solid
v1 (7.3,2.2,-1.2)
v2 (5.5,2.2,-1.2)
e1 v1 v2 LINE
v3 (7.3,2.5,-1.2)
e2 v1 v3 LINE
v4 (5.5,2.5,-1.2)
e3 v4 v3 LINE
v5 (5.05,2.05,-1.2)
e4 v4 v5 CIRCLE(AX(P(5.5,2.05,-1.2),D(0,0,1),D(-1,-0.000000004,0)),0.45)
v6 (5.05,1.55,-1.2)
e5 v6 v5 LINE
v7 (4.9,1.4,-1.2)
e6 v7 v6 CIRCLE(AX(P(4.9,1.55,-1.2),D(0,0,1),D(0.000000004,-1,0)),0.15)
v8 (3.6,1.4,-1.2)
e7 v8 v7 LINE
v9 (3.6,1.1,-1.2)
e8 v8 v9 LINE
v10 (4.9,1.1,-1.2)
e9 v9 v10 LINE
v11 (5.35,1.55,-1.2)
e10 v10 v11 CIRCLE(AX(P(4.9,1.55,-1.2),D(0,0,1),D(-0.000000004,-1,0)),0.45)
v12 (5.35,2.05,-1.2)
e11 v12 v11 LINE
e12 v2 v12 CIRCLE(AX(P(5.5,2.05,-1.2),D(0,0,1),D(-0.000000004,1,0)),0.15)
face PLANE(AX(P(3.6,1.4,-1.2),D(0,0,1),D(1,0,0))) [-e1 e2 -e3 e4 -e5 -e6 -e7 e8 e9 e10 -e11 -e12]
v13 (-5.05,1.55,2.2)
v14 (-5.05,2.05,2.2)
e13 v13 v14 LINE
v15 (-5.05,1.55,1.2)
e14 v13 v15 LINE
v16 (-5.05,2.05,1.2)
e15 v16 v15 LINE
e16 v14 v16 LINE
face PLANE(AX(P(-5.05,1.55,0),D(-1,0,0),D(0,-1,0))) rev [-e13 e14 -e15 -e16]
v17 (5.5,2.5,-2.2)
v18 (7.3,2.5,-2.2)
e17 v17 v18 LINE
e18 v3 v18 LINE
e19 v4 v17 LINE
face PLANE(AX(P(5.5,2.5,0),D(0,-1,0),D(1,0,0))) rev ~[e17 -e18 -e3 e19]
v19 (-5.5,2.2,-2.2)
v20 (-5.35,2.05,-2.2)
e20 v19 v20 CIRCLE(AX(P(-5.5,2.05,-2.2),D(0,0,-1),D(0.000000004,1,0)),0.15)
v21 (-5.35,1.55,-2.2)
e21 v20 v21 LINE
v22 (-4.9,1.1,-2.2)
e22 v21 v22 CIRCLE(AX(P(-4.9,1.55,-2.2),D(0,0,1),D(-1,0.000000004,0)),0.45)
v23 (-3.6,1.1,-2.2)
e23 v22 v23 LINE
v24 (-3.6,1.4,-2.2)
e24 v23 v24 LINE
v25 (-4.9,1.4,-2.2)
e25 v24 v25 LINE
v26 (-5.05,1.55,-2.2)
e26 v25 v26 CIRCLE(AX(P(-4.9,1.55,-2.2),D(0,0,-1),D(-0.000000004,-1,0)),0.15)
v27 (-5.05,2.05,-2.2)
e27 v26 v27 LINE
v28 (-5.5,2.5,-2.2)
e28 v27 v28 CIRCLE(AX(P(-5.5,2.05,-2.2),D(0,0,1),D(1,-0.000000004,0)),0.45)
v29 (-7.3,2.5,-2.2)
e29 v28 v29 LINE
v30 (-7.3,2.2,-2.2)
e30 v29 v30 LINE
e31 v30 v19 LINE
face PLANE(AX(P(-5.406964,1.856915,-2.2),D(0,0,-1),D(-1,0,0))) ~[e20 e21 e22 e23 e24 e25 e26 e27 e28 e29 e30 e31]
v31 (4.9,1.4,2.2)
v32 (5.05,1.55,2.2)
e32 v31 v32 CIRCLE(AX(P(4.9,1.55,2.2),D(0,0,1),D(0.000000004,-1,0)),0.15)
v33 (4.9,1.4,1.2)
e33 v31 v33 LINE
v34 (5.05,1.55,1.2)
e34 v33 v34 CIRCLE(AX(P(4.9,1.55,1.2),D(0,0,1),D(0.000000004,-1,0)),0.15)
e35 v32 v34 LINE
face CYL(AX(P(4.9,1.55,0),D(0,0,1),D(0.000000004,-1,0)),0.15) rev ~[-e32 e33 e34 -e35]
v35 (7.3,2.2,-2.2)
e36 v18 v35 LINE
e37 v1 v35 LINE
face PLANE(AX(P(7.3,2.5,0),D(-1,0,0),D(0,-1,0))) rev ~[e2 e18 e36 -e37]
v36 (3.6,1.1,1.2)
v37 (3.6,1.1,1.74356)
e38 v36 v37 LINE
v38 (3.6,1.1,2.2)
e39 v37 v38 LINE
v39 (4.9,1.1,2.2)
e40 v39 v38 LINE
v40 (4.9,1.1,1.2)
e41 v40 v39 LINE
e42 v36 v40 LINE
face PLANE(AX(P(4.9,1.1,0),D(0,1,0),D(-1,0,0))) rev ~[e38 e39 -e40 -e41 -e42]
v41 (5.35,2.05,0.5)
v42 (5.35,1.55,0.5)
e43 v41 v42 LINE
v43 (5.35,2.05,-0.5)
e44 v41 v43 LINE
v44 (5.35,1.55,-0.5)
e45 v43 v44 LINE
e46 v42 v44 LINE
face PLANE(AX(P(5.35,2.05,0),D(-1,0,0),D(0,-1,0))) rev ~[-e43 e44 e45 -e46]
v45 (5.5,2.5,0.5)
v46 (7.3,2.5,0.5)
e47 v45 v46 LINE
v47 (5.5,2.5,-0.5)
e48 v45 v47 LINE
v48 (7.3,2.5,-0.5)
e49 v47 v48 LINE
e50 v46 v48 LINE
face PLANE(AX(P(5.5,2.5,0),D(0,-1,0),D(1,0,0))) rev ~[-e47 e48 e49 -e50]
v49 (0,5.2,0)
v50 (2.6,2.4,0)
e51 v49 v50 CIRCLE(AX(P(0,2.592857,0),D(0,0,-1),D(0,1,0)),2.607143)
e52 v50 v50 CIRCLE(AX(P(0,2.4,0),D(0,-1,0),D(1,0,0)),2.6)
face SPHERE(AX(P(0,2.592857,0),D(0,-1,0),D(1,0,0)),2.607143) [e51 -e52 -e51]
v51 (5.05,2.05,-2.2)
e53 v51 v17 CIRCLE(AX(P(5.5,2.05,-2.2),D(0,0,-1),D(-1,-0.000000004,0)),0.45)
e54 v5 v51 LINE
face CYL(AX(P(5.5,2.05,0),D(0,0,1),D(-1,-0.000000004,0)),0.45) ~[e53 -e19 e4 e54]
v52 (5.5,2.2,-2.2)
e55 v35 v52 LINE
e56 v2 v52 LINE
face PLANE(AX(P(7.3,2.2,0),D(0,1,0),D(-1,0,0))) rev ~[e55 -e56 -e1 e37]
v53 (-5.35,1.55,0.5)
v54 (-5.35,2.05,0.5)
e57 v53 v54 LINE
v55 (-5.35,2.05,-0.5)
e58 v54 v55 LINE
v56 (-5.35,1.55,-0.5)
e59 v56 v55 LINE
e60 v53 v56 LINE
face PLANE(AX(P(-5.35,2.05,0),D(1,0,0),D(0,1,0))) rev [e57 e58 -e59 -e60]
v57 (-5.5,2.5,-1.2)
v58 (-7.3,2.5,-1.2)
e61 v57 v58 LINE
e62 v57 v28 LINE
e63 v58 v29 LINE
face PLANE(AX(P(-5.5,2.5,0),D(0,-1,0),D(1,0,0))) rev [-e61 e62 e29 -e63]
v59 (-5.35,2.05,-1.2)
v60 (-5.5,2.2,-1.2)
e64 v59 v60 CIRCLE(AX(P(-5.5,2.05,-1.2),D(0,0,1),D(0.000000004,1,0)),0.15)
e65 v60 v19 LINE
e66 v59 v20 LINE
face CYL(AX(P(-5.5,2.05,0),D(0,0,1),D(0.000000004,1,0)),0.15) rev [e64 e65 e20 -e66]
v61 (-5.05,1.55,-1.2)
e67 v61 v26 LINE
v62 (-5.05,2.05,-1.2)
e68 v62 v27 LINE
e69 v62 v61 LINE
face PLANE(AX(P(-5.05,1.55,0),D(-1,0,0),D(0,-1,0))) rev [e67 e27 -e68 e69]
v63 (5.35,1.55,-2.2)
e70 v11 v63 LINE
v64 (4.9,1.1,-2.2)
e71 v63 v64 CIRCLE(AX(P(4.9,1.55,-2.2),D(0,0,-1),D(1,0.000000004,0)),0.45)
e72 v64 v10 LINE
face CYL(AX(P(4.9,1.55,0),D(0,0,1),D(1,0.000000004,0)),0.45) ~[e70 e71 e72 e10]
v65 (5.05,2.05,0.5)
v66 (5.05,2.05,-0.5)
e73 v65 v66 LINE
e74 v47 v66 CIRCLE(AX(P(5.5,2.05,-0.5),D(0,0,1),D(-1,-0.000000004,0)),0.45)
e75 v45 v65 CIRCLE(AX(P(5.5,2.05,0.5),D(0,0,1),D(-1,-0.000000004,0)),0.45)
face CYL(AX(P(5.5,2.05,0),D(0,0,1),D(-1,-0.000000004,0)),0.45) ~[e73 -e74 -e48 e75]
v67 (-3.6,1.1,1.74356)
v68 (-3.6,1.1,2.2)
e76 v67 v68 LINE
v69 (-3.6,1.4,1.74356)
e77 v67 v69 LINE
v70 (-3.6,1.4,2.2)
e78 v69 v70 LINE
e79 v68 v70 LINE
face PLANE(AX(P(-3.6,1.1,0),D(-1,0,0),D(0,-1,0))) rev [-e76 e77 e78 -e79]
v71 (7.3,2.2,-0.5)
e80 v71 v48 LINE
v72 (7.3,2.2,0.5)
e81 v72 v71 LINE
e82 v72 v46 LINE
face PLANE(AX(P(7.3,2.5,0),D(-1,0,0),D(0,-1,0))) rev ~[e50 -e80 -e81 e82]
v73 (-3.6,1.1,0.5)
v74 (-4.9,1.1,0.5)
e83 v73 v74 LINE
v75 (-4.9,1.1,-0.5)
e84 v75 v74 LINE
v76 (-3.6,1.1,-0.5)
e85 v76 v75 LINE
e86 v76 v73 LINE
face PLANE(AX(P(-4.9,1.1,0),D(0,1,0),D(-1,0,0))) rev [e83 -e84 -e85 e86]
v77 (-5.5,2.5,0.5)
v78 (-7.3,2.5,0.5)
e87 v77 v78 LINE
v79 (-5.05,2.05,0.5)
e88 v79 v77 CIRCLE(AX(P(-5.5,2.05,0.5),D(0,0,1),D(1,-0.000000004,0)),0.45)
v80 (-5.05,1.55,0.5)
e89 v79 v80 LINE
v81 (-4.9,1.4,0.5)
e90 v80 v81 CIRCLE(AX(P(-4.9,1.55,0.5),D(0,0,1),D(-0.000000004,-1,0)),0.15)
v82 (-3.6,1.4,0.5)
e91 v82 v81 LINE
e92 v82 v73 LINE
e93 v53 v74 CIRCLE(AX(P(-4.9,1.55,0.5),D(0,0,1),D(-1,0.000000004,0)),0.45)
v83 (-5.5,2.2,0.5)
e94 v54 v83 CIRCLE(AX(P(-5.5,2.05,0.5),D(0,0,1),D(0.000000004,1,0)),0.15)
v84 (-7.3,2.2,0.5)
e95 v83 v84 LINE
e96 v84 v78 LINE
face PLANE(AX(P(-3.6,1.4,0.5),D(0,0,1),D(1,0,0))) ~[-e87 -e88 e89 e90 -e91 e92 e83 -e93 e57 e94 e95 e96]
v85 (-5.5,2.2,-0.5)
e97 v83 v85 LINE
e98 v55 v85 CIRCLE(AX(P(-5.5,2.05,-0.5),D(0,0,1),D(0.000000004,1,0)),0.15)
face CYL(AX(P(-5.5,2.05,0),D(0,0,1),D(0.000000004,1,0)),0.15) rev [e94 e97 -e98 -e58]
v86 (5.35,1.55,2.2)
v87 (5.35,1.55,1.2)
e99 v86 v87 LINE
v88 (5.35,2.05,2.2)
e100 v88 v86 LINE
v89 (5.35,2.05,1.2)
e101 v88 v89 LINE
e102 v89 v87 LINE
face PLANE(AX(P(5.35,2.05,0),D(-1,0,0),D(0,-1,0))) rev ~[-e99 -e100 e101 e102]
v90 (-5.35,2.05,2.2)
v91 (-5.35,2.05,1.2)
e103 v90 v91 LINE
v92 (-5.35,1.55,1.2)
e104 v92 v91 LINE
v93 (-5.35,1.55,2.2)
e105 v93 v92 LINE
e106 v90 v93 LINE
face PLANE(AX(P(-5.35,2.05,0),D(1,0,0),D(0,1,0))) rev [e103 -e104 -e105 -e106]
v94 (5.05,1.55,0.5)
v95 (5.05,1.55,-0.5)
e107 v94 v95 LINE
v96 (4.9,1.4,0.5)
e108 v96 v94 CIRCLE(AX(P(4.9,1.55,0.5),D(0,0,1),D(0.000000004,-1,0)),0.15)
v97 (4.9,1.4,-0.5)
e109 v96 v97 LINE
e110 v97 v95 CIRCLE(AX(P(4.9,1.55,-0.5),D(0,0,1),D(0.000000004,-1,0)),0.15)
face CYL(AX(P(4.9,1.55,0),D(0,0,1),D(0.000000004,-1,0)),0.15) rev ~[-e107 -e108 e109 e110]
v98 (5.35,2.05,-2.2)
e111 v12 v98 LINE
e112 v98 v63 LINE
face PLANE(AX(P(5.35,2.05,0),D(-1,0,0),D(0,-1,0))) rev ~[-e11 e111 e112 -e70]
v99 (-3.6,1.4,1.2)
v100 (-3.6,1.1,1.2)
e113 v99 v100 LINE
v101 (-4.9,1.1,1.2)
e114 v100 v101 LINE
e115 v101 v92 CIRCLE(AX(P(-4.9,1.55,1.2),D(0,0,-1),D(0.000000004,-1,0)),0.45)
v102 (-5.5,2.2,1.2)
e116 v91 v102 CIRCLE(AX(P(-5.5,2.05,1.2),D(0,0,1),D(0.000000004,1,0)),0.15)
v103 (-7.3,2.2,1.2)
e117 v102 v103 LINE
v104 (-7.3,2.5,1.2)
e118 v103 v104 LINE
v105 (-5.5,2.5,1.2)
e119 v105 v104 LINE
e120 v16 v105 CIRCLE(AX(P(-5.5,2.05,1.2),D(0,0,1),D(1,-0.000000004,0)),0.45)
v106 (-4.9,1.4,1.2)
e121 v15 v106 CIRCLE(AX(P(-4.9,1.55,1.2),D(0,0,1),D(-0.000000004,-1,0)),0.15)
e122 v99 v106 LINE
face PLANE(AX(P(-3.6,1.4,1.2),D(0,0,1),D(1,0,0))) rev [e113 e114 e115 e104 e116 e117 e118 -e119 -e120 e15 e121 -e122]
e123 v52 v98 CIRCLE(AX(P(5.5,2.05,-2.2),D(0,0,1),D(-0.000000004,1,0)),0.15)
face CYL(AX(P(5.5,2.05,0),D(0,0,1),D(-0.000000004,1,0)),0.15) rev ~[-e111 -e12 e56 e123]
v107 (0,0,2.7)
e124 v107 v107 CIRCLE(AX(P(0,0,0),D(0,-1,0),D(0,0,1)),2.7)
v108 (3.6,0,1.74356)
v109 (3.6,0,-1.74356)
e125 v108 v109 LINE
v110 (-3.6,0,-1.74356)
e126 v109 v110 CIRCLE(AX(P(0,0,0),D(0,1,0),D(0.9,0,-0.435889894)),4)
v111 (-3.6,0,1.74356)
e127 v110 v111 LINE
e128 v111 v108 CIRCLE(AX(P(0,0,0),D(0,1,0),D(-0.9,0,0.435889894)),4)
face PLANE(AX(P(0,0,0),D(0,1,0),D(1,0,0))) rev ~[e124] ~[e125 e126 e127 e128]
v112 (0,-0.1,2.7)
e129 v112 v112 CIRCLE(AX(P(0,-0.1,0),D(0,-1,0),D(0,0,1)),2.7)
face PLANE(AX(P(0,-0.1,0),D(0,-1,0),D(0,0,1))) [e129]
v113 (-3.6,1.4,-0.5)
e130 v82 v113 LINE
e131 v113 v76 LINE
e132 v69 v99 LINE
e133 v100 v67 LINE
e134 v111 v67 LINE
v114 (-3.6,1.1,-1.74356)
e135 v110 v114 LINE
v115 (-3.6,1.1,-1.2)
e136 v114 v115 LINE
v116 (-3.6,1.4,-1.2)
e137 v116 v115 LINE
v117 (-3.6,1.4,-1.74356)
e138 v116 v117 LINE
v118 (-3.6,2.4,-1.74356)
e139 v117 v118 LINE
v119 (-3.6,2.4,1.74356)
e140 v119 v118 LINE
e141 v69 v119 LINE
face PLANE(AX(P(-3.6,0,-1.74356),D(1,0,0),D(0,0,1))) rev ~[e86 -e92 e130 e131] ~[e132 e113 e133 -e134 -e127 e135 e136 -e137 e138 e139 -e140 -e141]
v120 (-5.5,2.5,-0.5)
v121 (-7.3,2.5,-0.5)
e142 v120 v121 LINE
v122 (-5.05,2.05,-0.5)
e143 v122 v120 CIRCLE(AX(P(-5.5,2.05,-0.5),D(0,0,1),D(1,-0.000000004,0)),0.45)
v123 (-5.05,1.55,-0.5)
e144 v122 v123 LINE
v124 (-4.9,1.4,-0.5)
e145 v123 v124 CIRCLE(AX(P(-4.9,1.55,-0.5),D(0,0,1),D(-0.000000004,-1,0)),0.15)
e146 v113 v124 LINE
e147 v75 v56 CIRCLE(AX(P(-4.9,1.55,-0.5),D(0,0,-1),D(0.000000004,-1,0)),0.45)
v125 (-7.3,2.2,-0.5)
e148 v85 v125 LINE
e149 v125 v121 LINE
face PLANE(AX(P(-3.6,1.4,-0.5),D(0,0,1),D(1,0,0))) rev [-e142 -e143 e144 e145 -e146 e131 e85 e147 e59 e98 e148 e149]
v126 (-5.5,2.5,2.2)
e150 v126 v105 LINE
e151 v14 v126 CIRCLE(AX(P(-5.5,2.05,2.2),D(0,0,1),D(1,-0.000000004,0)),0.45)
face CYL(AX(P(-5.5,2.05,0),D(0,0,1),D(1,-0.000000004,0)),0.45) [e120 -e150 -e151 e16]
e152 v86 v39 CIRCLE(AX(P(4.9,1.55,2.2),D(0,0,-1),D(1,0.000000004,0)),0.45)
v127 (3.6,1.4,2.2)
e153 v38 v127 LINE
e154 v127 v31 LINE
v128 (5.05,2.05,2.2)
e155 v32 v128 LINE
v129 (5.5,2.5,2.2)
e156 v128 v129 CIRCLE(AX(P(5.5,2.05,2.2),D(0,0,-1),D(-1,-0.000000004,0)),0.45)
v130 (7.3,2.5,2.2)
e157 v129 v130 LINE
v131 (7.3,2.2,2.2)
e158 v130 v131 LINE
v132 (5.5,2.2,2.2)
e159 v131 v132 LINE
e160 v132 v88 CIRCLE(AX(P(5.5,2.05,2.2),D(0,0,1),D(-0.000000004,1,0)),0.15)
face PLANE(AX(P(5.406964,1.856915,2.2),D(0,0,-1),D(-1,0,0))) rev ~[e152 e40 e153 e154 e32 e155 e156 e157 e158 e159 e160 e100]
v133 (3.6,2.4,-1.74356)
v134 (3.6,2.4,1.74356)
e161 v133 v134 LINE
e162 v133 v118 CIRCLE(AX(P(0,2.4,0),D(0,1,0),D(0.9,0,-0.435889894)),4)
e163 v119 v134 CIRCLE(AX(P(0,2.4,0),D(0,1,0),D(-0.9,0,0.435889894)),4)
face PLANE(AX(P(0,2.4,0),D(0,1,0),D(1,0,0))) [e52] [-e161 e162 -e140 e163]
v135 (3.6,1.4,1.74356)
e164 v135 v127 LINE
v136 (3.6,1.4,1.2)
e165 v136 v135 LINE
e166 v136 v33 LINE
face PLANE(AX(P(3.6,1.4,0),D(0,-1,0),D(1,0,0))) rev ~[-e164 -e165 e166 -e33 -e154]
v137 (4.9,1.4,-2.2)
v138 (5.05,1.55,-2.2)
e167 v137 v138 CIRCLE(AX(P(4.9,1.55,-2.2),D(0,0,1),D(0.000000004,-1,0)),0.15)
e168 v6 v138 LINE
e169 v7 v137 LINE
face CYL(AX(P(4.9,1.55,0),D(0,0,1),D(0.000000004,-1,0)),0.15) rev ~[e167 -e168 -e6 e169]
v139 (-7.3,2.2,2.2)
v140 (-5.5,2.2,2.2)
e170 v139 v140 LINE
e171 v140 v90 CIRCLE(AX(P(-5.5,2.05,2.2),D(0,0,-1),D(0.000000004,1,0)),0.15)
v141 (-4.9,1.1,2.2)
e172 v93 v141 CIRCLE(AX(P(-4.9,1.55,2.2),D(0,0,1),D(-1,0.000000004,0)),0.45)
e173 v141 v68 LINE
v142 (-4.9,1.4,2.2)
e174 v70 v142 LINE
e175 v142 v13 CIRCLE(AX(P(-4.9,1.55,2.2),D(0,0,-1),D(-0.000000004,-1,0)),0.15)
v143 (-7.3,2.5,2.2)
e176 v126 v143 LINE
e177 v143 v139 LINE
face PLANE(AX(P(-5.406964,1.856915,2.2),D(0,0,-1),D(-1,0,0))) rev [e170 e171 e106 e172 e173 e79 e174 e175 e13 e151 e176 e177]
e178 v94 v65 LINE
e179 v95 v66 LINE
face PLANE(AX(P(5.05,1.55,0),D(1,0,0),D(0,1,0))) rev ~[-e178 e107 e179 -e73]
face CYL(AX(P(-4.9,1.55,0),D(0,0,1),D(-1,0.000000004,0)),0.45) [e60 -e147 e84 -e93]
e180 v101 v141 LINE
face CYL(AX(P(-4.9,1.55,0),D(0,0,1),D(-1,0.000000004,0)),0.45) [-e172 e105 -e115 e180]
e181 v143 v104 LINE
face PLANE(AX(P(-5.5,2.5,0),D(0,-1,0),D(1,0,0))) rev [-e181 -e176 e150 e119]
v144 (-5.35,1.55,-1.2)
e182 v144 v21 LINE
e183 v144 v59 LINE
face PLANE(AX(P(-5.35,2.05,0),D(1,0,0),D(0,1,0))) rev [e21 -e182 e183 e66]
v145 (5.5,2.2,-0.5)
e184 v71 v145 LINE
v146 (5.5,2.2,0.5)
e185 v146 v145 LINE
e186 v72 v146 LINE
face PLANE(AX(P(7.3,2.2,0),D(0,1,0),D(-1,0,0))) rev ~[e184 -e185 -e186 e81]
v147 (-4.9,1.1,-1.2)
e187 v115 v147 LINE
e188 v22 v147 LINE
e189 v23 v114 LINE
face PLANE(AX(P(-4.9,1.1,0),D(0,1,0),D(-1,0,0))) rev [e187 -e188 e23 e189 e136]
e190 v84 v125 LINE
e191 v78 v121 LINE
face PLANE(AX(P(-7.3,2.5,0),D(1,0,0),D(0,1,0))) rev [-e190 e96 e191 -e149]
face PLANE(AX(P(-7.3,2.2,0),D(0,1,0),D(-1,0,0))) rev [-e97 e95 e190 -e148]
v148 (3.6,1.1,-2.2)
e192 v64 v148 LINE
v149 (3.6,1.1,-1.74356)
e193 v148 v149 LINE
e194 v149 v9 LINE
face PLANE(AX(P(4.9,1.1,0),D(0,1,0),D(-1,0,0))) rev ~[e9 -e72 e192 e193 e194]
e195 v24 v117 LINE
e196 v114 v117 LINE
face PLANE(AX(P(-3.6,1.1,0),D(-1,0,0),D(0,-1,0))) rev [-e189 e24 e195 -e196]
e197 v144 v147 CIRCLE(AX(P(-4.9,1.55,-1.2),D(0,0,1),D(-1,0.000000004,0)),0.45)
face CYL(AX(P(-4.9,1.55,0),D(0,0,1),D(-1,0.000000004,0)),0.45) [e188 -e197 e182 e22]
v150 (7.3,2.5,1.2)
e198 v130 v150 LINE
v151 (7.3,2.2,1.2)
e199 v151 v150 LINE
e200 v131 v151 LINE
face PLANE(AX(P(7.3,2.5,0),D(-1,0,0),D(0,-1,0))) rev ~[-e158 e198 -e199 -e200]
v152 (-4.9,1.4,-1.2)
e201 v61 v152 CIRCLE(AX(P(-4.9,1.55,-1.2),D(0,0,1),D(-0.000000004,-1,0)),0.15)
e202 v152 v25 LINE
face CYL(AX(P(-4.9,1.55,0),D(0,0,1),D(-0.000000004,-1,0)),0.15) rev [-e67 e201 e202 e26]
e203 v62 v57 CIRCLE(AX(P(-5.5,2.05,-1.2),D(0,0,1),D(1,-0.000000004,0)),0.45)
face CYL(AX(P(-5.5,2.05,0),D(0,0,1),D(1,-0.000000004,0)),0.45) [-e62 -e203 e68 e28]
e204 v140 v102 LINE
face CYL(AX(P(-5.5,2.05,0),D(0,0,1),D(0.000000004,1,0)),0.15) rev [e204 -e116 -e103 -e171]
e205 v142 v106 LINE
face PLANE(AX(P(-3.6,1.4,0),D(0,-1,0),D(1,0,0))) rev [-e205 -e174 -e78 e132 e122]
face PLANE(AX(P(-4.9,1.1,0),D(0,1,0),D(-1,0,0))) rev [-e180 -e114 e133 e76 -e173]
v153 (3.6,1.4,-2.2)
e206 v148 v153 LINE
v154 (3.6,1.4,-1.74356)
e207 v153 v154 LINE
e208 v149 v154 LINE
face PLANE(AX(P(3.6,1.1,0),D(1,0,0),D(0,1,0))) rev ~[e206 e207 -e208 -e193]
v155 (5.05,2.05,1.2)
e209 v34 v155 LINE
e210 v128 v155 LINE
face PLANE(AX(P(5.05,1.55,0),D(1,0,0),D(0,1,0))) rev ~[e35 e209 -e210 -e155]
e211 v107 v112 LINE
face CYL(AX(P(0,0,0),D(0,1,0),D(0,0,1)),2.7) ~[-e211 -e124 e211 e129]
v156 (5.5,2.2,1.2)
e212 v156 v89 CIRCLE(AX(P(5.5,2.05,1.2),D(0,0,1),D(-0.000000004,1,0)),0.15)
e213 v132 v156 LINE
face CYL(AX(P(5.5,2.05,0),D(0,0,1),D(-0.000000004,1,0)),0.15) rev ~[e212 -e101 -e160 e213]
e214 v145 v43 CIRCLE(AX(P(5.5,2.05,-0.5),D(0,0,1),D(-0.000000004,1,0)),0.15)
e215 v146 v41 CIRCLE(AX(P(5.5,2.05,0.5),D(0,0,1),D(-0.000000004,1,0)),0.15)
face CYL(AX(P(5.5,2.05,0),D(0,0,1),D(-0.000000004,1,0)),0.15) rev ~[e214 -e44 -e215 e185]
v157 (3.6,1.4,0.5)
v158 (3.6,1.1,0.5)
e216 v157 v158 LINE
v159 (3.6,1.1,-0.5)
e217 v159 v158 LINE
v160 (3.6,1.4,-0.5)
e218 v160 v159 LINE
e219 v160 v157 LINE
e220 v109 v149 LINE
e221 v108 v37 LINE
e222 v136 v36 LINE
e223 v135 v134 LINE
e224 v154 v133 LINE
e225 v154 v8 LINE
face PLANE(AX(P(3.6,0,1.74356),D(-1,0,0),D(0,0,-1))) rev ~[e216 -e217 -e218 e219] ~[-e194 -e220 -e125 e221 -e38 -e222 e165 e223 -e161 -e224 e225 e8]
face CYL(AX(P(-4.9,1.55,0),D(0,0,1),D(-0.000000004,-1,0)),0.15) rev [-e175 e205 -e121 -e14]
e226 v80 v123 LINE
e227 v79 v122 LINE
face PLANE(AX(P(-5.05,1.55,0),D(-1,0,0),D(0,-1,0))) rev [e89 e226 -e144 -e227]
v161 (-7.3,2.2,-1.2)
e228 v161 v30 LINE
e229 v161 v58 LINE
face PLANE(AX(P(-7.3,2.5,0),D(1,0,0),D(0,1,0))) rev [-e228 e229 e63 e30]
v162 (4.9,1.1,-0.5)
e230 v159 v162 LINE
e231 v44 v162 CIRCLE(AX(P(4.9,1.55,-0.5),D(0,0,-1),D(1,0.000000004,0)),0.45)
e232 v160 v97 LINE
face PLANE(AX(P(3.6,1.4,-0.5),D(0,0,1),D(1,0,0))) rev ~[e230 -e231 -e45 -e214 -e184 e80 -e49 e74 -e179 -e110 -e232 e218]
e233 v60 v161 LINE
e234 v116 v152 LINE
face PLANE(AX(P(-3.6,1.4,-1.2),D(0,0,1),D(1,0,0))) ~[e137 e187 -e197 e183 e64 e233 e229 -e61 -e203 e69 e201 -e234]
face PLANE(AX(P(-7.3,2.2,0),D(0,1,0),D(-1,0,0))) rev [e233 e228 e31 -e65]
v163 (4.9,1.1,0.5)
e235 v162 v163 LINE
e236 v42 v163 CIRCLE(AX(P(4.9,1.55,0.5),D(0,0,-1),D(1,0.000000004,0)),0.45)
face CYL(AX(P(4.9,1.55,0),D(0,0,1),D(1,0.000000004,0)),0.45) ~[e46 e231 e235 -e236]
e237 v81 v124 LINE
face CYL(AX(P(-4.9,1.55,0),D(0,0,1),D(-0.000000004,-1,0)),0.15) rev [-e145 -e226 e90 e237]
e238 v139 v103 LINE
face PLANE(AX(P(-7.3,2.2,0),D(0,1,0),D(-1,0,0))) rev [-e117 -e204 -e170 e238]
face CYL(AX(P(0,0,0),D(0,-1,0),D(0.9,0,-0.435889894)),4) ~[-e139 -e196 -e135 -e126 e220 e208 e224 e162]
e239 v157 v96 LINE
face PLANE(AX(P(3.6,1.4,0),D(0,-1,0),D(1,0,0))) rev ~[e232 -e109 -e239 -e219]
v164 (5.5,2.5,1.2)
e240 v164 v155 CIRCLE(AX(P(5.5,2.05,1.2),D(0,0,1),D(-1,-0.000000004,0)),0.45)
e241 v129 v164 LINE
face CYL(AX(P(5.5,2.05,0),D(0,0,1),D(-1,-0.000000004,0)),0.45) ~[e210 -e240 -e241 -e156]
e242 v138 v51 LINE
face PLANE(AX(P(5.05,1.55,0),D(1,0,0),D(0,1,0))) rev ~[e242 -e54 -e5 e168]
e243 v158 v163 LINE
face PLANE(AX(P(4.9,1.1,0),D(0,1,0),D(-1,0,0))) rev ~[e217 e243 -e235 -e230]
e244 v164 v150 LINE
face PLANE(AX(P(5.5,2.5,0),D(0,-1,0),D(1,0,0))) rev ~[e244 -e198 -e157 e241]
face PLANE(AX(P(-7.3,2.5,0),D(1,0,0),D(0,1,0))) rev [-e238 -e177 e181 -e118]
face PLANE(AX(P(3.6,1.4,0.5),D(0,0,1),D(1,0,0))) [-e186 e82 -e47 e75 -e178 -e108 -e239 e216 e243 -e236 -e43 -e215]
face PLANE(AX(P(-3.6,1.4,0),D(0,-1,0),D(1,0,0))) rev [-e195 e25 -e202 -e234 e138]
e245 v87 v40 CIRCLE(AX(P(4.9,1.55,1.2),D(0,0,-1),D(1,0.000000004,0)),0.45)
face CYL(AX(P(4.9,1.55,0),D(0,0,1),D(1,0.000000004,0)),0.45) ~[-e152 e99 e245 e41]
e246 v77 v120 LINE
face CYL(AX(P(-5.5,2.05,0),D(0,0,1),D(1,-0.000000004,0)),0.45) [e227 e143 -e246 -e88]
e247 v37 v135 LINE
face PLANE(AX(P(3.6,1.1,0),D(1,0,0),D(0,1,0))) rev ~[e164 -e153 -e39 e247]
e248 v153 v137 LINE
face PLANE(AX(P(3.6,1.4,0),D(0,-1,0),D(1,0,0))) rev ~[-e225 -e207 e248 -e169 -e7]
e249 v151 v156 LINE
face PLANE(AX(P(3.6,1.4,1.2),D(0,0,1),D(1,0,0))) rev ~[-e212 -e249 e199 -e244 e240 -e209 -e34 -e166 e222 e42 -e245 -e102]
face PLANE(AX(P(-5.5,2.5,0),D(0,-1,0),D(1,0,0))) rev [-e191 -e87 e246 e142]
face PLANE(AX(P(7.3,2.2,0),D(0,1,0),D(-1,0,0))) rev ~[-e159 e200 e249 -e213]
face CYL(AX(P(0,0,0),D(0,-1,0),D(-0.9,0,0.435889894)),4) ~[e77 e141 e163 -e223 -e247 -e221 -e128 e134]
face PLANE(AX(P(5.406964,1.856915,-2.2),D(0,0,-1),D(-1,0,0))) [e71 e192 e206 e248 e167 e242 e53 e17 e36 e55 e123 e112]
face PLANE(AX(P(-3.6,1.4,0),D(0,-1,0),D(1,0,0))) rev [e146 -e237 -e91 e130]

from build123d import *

# Parameters (mm, degrees)
LED_BASE_BOSS_EXTRUDE1_DEPTH                   = 2.4
PIN_RIGHT_BOSS_EXTRUDE2_DEPTH                  = 2.2
PIN_RIGHT_SPACE_CUT_EXTRUDE1_REACH             = 11.15
SKETCH5_W                                      = 3.7
SKETCH5_H                                      = 0.7
PIN_RIGHT_SPACE_CUT_EXTRUDE1_DIRECTION_2_REACH = 11.15
SKETCH6_R                                      = 2.7
HEATSINK_BOSS_EXTRUDE3_DEPTH                   = 0.1


with BuildPart() as part:
    # Sketch1 → LED Base Boss-Extrude1 (new body)
    with BuildSketch(Plane(origin=(0, 0, 0), x_dir=(1, 0, 0), z_dir=(0, 1, 0))):
        with BuildLine():
            Line((-3.6, 1.743559577), (-3.6, -1.743559577))
            ThreePointArc((-3.6, -1.743559577), (0, -4), (3.6, -1.743559577))
            Line((3.6, -1.743559577), (3.6, 1.743559577))
            ThreePointArc((3.6, 1.743559577), (0, 4), (-3.6, 1.743559577))
        make_face()
    extrude(amount=LED_BASE_BOSS_EXTRUDE1_DEPTH)

    # Sketch3 → LED Lens Revolve2 (revolve)
    with BuildSketch(Plane.XY):
        with BuildLine():
            Line((2.6, 2.4), (0, 2.4))
            Line((0, 2.4), (0, 5.2))
            ThreePointArc((0, 5.2), (1.910497317, 4.366890366), (2.6, 2.4))
        make_face()
    revolve(axis=Axis((0, 5.2, 0), (0, -1, 0)))

    # Sketch4 → Pin Right Boss-Extrude2 (add, symmetric)
    with BuildSketch(Plane.XY):
        with BuildLine():
            Line((3.6, 1.4), (4.9, 1.4))
            ThreePointArc((4.9, 1.4), (5.006066017, 1.443933983), (5.05, 1.55))
            Line((5.05, 1.55), (5.05, 2.05))
            ThreePointArc((5.05, 2.05), (5.181801948, 2.368198052), (5.5, 2.5))
            Line((5.5, 2.5), (7.3, 2.5))
            Line((7.3, 2.5), (7.3, 2.2))
            Line((7.3, 2.2), (5.5, 2.2))
            ThreePointArc((5.5, 2.2), (5.393933983, 2.156066017), (5.35, 2.05))
            Line((5.35, 2.05), (5.35, 1.55))
            ThreePointArc((5.35, 1.55), (5.218198052, 1.231801948), (4.9, 1.1))
            Line((4.9, 1.1), (3.6, 1.1))
            Line((3.6, 1.1), (3.6, 1.4))
        make_face()
    pin_right_boss_extrude2 = extrude(amount=PIN_RIGHT_BOSS_EXTRUDE2_DEPTH, both=True)

    # Pin Right Space Cut-Extrude1: up to this face of the body (flat: up to its plane)
    pin_right_space_cut_extrude1_end = Plane(part.part.faces().sort_by_distance((6.4, 2.5, 0))[0])
    # Sketch5 → Pin Right Space Cut-Extrude1 (cut, up to the picked face)
    with BuildSketch(Plane(origin=(0, 1.4, 0), x_dir=(1, 0, 0), z_dir=(0, 1, 0)), mode=Mode.PRIVATE) as pin_right_space_cut_extrude1_sk1:
        with Locations((5.45, 0.85)):
            Rectangle(SKETCH5_W, SKETCH5_H)
    pin_right_space_cut_extrude1_tool1 = split(extrude(pin_right_space_cut_extrude1_sk1.sketch, amount=PIN_RIGHT_SPACE_CUT_EXTRUDE1_REACH, mode=Mode.PRIVATE), bisect_by=pin_right_space_cut_extrude1_end, keep=Keep.BOTH, mode=Mode.PRIVATE)
    # Sketch5 → Pin Right Space Cut-Extrude1 (cut, up to the picked face)
    with BuildSketch(Plane(origin=(0, 1.4, 0), x_dir=(1, 0, 0), z_dir=(0, 1, 0)), mode=Mode.PRIVATE) as pin_right_space_cut_extrude1_sk2:
        with Locations((5.45, -0.85)):
            Rectangle(SKETCH5_W, SKETCH5_H)
    pin_right_space_cut_extrude1_tool2 = split(extrude(pin_right_space_cut_extrude1_sk2.sketch, amount=PIN_RIGHT_SPACE_CUT_EXTRUDE1_REACH, mode=Mode.PRIVATE), bisect_by=pin_right_space_cut_extrude1_end, keep=Keep.BOTH, mode=Mode.PRIVATE)
    pin_right_space_cut_extrude1_1 = pin_right_space_cut_extrude1_tool1.solids().sort_by(Axis((5.45, 1.4, -0.85), (0, 1, 0)))[0]
    add(pin_right_space_cut_extrude1_1, mode=Mode.SUBTRACT)
    pin_right_space_cut_extrude1_2 = pin_right_space_cut_extrude1_tool2.solids().sort_by(Axis((5.45, 1.4, 0.85), (0, 1, 0)))[0]
    add(pin_right_space_cut_extrude1_2, mode=Mode.SUBTRACT)
    pin_right_space_cut_extrude1 = pin_right_space_cut_extrude1_1 + pin_right_space_cut_extrude1_2  # Pin Right Space Cut-Extrude1 as one shape, for the pattern or mirror that repeats it

    # Pin Right Space Cut-Extrude1 direction 2: up to this face of the body (flat: up to its plane)
    pin_right_space_cut_extrude1_direction_2_end = Plane(part.part.faces().sort_by_distance((4.25, 1.1, 0))[0])
    # Sketch5 → Pin Right Space Cut-Extrude1 direction 2 (cut, up to the picked face)
    with BuildSketch(Plane(origin=(0, 1.4, 0), x_dir=(1, 0, 0), z_dir=(0, 1, 0)), mode=Mode.PRIVATE) as pin_right_space_cut_extrude1_direction_2_sk1:
        with Locations((5.45, 0.85)):
            Rectangle(SKETCH5_W, SKETCH5_H)
    pin_right_space_cut_extrude1_direction_2_tool1 = split(extrude(pin_right_space_cut_extrude1_direction_2_sk1.sketch, amount=-PIN_RIGHT_SPACE_CUT_EXTRUDE1_DIRECTION_2_REACH, mode=Mode.PRIVATE), bisect_by=pin_right_space_cut_extrude1_direction_2_end, keep=Keep.BOTH, mode=Mode.PRIVATE)
    # Sketch5 → Pin Right Space Cut-Extrude1 direction 2 (cut, up to the picked face)
    with BuildSketch(Plane(origin=(0, 1.4, 0), x_dir=(1, 0, 0), z_dir=(0, 1, 0)), mode=Mode.PRIVATE) as pin_right_space_cut_extrude1_direction_2_sk2:
        with Locations((5.45, -0.85)):
            Rectangle(SKETCH5_W, SKETCH5_H)
    pin_right_space_cut_extrude1_direction_2_tool2 = split(extrude(pin_right_space_cut_extrude1_direction_2_sk2.sketch, amount=-PIN_RIGHT_SPACE_CUT_EXTRUDE1_DIRECTION_2_REACH, mode=Mode.PRIVATE), bisect_by=pin_right_space_cut_extrude1_direction_2_end, keep=Keep.BOTH, mode=Mode.PRIVATE)
    pin_right_space_cut_extrude1_direction_2_1 = pin_right_space_cut_extrude1_direction_2_tool1.solids().sort_by(Axis((5.45, 1.4, -0.85), (0, -1, 0)))[0]
    add(pin_right_space_cut_extrude1_direction_2_1, mode=Mode.SUBTRACT)
    pin_right_space_cut_extrude1_direction_2_2 = pin_right_space_cut_extrude1_direction_2_tool2.solids().sort_by(Axis((5.45, 1.4, 0.85), (0, -1, 0)))[0]
    add(pin_right_space_cut_extrude1_direction_2_2, mode=Mode.SUBTRACT)
    pin_right_space_cut_extrude1_direction_2 = pin_right_space_cut_extrude1_direction_2_1 + pin_right_space_cut_extrude1_direction_2_2  # Pin Right Space Cut-Extrude1 direction 2 as one shape, for the pattern or mirror that repeats it

    # Pin Left Mirror1: Pin Right Boss-Extrude2, Pin Right Space Cut-Extrude1, Pin Right Space Cut-Extrude1 direction 2 across plane
    add(pin_right_boss_extrude2.mirror(Plane(origin=(0, 0, 0), x_dir=(0, 0, 1), z_dir=(1, 0, 0))))
    add(pin_right_space_cut_extrude1.mirror(Plane(origin=(0, 0, 0), x_dir=(0, 0, 1), z_dir=(1, 0, 0))), mode=Mode.SUBTRACT)
    add(pin_right_space_cut_extrude1_direction_2.mirror(Plane(origin=(0, 0, 0), x_dir=(0, 0, 1), z_dir=(1, 0, 0))), mode=Mode.SUBTRACT)

    # Sketch6 → Heatsink Boss-Extrude3 (add)
    with BuildSketch(Plane.XZ):
        Circle(SKETCH6_R)
    extrude(amount=HEATSINK_BOSS_EXTRUDE3_DEPTH)


solid = part.part
